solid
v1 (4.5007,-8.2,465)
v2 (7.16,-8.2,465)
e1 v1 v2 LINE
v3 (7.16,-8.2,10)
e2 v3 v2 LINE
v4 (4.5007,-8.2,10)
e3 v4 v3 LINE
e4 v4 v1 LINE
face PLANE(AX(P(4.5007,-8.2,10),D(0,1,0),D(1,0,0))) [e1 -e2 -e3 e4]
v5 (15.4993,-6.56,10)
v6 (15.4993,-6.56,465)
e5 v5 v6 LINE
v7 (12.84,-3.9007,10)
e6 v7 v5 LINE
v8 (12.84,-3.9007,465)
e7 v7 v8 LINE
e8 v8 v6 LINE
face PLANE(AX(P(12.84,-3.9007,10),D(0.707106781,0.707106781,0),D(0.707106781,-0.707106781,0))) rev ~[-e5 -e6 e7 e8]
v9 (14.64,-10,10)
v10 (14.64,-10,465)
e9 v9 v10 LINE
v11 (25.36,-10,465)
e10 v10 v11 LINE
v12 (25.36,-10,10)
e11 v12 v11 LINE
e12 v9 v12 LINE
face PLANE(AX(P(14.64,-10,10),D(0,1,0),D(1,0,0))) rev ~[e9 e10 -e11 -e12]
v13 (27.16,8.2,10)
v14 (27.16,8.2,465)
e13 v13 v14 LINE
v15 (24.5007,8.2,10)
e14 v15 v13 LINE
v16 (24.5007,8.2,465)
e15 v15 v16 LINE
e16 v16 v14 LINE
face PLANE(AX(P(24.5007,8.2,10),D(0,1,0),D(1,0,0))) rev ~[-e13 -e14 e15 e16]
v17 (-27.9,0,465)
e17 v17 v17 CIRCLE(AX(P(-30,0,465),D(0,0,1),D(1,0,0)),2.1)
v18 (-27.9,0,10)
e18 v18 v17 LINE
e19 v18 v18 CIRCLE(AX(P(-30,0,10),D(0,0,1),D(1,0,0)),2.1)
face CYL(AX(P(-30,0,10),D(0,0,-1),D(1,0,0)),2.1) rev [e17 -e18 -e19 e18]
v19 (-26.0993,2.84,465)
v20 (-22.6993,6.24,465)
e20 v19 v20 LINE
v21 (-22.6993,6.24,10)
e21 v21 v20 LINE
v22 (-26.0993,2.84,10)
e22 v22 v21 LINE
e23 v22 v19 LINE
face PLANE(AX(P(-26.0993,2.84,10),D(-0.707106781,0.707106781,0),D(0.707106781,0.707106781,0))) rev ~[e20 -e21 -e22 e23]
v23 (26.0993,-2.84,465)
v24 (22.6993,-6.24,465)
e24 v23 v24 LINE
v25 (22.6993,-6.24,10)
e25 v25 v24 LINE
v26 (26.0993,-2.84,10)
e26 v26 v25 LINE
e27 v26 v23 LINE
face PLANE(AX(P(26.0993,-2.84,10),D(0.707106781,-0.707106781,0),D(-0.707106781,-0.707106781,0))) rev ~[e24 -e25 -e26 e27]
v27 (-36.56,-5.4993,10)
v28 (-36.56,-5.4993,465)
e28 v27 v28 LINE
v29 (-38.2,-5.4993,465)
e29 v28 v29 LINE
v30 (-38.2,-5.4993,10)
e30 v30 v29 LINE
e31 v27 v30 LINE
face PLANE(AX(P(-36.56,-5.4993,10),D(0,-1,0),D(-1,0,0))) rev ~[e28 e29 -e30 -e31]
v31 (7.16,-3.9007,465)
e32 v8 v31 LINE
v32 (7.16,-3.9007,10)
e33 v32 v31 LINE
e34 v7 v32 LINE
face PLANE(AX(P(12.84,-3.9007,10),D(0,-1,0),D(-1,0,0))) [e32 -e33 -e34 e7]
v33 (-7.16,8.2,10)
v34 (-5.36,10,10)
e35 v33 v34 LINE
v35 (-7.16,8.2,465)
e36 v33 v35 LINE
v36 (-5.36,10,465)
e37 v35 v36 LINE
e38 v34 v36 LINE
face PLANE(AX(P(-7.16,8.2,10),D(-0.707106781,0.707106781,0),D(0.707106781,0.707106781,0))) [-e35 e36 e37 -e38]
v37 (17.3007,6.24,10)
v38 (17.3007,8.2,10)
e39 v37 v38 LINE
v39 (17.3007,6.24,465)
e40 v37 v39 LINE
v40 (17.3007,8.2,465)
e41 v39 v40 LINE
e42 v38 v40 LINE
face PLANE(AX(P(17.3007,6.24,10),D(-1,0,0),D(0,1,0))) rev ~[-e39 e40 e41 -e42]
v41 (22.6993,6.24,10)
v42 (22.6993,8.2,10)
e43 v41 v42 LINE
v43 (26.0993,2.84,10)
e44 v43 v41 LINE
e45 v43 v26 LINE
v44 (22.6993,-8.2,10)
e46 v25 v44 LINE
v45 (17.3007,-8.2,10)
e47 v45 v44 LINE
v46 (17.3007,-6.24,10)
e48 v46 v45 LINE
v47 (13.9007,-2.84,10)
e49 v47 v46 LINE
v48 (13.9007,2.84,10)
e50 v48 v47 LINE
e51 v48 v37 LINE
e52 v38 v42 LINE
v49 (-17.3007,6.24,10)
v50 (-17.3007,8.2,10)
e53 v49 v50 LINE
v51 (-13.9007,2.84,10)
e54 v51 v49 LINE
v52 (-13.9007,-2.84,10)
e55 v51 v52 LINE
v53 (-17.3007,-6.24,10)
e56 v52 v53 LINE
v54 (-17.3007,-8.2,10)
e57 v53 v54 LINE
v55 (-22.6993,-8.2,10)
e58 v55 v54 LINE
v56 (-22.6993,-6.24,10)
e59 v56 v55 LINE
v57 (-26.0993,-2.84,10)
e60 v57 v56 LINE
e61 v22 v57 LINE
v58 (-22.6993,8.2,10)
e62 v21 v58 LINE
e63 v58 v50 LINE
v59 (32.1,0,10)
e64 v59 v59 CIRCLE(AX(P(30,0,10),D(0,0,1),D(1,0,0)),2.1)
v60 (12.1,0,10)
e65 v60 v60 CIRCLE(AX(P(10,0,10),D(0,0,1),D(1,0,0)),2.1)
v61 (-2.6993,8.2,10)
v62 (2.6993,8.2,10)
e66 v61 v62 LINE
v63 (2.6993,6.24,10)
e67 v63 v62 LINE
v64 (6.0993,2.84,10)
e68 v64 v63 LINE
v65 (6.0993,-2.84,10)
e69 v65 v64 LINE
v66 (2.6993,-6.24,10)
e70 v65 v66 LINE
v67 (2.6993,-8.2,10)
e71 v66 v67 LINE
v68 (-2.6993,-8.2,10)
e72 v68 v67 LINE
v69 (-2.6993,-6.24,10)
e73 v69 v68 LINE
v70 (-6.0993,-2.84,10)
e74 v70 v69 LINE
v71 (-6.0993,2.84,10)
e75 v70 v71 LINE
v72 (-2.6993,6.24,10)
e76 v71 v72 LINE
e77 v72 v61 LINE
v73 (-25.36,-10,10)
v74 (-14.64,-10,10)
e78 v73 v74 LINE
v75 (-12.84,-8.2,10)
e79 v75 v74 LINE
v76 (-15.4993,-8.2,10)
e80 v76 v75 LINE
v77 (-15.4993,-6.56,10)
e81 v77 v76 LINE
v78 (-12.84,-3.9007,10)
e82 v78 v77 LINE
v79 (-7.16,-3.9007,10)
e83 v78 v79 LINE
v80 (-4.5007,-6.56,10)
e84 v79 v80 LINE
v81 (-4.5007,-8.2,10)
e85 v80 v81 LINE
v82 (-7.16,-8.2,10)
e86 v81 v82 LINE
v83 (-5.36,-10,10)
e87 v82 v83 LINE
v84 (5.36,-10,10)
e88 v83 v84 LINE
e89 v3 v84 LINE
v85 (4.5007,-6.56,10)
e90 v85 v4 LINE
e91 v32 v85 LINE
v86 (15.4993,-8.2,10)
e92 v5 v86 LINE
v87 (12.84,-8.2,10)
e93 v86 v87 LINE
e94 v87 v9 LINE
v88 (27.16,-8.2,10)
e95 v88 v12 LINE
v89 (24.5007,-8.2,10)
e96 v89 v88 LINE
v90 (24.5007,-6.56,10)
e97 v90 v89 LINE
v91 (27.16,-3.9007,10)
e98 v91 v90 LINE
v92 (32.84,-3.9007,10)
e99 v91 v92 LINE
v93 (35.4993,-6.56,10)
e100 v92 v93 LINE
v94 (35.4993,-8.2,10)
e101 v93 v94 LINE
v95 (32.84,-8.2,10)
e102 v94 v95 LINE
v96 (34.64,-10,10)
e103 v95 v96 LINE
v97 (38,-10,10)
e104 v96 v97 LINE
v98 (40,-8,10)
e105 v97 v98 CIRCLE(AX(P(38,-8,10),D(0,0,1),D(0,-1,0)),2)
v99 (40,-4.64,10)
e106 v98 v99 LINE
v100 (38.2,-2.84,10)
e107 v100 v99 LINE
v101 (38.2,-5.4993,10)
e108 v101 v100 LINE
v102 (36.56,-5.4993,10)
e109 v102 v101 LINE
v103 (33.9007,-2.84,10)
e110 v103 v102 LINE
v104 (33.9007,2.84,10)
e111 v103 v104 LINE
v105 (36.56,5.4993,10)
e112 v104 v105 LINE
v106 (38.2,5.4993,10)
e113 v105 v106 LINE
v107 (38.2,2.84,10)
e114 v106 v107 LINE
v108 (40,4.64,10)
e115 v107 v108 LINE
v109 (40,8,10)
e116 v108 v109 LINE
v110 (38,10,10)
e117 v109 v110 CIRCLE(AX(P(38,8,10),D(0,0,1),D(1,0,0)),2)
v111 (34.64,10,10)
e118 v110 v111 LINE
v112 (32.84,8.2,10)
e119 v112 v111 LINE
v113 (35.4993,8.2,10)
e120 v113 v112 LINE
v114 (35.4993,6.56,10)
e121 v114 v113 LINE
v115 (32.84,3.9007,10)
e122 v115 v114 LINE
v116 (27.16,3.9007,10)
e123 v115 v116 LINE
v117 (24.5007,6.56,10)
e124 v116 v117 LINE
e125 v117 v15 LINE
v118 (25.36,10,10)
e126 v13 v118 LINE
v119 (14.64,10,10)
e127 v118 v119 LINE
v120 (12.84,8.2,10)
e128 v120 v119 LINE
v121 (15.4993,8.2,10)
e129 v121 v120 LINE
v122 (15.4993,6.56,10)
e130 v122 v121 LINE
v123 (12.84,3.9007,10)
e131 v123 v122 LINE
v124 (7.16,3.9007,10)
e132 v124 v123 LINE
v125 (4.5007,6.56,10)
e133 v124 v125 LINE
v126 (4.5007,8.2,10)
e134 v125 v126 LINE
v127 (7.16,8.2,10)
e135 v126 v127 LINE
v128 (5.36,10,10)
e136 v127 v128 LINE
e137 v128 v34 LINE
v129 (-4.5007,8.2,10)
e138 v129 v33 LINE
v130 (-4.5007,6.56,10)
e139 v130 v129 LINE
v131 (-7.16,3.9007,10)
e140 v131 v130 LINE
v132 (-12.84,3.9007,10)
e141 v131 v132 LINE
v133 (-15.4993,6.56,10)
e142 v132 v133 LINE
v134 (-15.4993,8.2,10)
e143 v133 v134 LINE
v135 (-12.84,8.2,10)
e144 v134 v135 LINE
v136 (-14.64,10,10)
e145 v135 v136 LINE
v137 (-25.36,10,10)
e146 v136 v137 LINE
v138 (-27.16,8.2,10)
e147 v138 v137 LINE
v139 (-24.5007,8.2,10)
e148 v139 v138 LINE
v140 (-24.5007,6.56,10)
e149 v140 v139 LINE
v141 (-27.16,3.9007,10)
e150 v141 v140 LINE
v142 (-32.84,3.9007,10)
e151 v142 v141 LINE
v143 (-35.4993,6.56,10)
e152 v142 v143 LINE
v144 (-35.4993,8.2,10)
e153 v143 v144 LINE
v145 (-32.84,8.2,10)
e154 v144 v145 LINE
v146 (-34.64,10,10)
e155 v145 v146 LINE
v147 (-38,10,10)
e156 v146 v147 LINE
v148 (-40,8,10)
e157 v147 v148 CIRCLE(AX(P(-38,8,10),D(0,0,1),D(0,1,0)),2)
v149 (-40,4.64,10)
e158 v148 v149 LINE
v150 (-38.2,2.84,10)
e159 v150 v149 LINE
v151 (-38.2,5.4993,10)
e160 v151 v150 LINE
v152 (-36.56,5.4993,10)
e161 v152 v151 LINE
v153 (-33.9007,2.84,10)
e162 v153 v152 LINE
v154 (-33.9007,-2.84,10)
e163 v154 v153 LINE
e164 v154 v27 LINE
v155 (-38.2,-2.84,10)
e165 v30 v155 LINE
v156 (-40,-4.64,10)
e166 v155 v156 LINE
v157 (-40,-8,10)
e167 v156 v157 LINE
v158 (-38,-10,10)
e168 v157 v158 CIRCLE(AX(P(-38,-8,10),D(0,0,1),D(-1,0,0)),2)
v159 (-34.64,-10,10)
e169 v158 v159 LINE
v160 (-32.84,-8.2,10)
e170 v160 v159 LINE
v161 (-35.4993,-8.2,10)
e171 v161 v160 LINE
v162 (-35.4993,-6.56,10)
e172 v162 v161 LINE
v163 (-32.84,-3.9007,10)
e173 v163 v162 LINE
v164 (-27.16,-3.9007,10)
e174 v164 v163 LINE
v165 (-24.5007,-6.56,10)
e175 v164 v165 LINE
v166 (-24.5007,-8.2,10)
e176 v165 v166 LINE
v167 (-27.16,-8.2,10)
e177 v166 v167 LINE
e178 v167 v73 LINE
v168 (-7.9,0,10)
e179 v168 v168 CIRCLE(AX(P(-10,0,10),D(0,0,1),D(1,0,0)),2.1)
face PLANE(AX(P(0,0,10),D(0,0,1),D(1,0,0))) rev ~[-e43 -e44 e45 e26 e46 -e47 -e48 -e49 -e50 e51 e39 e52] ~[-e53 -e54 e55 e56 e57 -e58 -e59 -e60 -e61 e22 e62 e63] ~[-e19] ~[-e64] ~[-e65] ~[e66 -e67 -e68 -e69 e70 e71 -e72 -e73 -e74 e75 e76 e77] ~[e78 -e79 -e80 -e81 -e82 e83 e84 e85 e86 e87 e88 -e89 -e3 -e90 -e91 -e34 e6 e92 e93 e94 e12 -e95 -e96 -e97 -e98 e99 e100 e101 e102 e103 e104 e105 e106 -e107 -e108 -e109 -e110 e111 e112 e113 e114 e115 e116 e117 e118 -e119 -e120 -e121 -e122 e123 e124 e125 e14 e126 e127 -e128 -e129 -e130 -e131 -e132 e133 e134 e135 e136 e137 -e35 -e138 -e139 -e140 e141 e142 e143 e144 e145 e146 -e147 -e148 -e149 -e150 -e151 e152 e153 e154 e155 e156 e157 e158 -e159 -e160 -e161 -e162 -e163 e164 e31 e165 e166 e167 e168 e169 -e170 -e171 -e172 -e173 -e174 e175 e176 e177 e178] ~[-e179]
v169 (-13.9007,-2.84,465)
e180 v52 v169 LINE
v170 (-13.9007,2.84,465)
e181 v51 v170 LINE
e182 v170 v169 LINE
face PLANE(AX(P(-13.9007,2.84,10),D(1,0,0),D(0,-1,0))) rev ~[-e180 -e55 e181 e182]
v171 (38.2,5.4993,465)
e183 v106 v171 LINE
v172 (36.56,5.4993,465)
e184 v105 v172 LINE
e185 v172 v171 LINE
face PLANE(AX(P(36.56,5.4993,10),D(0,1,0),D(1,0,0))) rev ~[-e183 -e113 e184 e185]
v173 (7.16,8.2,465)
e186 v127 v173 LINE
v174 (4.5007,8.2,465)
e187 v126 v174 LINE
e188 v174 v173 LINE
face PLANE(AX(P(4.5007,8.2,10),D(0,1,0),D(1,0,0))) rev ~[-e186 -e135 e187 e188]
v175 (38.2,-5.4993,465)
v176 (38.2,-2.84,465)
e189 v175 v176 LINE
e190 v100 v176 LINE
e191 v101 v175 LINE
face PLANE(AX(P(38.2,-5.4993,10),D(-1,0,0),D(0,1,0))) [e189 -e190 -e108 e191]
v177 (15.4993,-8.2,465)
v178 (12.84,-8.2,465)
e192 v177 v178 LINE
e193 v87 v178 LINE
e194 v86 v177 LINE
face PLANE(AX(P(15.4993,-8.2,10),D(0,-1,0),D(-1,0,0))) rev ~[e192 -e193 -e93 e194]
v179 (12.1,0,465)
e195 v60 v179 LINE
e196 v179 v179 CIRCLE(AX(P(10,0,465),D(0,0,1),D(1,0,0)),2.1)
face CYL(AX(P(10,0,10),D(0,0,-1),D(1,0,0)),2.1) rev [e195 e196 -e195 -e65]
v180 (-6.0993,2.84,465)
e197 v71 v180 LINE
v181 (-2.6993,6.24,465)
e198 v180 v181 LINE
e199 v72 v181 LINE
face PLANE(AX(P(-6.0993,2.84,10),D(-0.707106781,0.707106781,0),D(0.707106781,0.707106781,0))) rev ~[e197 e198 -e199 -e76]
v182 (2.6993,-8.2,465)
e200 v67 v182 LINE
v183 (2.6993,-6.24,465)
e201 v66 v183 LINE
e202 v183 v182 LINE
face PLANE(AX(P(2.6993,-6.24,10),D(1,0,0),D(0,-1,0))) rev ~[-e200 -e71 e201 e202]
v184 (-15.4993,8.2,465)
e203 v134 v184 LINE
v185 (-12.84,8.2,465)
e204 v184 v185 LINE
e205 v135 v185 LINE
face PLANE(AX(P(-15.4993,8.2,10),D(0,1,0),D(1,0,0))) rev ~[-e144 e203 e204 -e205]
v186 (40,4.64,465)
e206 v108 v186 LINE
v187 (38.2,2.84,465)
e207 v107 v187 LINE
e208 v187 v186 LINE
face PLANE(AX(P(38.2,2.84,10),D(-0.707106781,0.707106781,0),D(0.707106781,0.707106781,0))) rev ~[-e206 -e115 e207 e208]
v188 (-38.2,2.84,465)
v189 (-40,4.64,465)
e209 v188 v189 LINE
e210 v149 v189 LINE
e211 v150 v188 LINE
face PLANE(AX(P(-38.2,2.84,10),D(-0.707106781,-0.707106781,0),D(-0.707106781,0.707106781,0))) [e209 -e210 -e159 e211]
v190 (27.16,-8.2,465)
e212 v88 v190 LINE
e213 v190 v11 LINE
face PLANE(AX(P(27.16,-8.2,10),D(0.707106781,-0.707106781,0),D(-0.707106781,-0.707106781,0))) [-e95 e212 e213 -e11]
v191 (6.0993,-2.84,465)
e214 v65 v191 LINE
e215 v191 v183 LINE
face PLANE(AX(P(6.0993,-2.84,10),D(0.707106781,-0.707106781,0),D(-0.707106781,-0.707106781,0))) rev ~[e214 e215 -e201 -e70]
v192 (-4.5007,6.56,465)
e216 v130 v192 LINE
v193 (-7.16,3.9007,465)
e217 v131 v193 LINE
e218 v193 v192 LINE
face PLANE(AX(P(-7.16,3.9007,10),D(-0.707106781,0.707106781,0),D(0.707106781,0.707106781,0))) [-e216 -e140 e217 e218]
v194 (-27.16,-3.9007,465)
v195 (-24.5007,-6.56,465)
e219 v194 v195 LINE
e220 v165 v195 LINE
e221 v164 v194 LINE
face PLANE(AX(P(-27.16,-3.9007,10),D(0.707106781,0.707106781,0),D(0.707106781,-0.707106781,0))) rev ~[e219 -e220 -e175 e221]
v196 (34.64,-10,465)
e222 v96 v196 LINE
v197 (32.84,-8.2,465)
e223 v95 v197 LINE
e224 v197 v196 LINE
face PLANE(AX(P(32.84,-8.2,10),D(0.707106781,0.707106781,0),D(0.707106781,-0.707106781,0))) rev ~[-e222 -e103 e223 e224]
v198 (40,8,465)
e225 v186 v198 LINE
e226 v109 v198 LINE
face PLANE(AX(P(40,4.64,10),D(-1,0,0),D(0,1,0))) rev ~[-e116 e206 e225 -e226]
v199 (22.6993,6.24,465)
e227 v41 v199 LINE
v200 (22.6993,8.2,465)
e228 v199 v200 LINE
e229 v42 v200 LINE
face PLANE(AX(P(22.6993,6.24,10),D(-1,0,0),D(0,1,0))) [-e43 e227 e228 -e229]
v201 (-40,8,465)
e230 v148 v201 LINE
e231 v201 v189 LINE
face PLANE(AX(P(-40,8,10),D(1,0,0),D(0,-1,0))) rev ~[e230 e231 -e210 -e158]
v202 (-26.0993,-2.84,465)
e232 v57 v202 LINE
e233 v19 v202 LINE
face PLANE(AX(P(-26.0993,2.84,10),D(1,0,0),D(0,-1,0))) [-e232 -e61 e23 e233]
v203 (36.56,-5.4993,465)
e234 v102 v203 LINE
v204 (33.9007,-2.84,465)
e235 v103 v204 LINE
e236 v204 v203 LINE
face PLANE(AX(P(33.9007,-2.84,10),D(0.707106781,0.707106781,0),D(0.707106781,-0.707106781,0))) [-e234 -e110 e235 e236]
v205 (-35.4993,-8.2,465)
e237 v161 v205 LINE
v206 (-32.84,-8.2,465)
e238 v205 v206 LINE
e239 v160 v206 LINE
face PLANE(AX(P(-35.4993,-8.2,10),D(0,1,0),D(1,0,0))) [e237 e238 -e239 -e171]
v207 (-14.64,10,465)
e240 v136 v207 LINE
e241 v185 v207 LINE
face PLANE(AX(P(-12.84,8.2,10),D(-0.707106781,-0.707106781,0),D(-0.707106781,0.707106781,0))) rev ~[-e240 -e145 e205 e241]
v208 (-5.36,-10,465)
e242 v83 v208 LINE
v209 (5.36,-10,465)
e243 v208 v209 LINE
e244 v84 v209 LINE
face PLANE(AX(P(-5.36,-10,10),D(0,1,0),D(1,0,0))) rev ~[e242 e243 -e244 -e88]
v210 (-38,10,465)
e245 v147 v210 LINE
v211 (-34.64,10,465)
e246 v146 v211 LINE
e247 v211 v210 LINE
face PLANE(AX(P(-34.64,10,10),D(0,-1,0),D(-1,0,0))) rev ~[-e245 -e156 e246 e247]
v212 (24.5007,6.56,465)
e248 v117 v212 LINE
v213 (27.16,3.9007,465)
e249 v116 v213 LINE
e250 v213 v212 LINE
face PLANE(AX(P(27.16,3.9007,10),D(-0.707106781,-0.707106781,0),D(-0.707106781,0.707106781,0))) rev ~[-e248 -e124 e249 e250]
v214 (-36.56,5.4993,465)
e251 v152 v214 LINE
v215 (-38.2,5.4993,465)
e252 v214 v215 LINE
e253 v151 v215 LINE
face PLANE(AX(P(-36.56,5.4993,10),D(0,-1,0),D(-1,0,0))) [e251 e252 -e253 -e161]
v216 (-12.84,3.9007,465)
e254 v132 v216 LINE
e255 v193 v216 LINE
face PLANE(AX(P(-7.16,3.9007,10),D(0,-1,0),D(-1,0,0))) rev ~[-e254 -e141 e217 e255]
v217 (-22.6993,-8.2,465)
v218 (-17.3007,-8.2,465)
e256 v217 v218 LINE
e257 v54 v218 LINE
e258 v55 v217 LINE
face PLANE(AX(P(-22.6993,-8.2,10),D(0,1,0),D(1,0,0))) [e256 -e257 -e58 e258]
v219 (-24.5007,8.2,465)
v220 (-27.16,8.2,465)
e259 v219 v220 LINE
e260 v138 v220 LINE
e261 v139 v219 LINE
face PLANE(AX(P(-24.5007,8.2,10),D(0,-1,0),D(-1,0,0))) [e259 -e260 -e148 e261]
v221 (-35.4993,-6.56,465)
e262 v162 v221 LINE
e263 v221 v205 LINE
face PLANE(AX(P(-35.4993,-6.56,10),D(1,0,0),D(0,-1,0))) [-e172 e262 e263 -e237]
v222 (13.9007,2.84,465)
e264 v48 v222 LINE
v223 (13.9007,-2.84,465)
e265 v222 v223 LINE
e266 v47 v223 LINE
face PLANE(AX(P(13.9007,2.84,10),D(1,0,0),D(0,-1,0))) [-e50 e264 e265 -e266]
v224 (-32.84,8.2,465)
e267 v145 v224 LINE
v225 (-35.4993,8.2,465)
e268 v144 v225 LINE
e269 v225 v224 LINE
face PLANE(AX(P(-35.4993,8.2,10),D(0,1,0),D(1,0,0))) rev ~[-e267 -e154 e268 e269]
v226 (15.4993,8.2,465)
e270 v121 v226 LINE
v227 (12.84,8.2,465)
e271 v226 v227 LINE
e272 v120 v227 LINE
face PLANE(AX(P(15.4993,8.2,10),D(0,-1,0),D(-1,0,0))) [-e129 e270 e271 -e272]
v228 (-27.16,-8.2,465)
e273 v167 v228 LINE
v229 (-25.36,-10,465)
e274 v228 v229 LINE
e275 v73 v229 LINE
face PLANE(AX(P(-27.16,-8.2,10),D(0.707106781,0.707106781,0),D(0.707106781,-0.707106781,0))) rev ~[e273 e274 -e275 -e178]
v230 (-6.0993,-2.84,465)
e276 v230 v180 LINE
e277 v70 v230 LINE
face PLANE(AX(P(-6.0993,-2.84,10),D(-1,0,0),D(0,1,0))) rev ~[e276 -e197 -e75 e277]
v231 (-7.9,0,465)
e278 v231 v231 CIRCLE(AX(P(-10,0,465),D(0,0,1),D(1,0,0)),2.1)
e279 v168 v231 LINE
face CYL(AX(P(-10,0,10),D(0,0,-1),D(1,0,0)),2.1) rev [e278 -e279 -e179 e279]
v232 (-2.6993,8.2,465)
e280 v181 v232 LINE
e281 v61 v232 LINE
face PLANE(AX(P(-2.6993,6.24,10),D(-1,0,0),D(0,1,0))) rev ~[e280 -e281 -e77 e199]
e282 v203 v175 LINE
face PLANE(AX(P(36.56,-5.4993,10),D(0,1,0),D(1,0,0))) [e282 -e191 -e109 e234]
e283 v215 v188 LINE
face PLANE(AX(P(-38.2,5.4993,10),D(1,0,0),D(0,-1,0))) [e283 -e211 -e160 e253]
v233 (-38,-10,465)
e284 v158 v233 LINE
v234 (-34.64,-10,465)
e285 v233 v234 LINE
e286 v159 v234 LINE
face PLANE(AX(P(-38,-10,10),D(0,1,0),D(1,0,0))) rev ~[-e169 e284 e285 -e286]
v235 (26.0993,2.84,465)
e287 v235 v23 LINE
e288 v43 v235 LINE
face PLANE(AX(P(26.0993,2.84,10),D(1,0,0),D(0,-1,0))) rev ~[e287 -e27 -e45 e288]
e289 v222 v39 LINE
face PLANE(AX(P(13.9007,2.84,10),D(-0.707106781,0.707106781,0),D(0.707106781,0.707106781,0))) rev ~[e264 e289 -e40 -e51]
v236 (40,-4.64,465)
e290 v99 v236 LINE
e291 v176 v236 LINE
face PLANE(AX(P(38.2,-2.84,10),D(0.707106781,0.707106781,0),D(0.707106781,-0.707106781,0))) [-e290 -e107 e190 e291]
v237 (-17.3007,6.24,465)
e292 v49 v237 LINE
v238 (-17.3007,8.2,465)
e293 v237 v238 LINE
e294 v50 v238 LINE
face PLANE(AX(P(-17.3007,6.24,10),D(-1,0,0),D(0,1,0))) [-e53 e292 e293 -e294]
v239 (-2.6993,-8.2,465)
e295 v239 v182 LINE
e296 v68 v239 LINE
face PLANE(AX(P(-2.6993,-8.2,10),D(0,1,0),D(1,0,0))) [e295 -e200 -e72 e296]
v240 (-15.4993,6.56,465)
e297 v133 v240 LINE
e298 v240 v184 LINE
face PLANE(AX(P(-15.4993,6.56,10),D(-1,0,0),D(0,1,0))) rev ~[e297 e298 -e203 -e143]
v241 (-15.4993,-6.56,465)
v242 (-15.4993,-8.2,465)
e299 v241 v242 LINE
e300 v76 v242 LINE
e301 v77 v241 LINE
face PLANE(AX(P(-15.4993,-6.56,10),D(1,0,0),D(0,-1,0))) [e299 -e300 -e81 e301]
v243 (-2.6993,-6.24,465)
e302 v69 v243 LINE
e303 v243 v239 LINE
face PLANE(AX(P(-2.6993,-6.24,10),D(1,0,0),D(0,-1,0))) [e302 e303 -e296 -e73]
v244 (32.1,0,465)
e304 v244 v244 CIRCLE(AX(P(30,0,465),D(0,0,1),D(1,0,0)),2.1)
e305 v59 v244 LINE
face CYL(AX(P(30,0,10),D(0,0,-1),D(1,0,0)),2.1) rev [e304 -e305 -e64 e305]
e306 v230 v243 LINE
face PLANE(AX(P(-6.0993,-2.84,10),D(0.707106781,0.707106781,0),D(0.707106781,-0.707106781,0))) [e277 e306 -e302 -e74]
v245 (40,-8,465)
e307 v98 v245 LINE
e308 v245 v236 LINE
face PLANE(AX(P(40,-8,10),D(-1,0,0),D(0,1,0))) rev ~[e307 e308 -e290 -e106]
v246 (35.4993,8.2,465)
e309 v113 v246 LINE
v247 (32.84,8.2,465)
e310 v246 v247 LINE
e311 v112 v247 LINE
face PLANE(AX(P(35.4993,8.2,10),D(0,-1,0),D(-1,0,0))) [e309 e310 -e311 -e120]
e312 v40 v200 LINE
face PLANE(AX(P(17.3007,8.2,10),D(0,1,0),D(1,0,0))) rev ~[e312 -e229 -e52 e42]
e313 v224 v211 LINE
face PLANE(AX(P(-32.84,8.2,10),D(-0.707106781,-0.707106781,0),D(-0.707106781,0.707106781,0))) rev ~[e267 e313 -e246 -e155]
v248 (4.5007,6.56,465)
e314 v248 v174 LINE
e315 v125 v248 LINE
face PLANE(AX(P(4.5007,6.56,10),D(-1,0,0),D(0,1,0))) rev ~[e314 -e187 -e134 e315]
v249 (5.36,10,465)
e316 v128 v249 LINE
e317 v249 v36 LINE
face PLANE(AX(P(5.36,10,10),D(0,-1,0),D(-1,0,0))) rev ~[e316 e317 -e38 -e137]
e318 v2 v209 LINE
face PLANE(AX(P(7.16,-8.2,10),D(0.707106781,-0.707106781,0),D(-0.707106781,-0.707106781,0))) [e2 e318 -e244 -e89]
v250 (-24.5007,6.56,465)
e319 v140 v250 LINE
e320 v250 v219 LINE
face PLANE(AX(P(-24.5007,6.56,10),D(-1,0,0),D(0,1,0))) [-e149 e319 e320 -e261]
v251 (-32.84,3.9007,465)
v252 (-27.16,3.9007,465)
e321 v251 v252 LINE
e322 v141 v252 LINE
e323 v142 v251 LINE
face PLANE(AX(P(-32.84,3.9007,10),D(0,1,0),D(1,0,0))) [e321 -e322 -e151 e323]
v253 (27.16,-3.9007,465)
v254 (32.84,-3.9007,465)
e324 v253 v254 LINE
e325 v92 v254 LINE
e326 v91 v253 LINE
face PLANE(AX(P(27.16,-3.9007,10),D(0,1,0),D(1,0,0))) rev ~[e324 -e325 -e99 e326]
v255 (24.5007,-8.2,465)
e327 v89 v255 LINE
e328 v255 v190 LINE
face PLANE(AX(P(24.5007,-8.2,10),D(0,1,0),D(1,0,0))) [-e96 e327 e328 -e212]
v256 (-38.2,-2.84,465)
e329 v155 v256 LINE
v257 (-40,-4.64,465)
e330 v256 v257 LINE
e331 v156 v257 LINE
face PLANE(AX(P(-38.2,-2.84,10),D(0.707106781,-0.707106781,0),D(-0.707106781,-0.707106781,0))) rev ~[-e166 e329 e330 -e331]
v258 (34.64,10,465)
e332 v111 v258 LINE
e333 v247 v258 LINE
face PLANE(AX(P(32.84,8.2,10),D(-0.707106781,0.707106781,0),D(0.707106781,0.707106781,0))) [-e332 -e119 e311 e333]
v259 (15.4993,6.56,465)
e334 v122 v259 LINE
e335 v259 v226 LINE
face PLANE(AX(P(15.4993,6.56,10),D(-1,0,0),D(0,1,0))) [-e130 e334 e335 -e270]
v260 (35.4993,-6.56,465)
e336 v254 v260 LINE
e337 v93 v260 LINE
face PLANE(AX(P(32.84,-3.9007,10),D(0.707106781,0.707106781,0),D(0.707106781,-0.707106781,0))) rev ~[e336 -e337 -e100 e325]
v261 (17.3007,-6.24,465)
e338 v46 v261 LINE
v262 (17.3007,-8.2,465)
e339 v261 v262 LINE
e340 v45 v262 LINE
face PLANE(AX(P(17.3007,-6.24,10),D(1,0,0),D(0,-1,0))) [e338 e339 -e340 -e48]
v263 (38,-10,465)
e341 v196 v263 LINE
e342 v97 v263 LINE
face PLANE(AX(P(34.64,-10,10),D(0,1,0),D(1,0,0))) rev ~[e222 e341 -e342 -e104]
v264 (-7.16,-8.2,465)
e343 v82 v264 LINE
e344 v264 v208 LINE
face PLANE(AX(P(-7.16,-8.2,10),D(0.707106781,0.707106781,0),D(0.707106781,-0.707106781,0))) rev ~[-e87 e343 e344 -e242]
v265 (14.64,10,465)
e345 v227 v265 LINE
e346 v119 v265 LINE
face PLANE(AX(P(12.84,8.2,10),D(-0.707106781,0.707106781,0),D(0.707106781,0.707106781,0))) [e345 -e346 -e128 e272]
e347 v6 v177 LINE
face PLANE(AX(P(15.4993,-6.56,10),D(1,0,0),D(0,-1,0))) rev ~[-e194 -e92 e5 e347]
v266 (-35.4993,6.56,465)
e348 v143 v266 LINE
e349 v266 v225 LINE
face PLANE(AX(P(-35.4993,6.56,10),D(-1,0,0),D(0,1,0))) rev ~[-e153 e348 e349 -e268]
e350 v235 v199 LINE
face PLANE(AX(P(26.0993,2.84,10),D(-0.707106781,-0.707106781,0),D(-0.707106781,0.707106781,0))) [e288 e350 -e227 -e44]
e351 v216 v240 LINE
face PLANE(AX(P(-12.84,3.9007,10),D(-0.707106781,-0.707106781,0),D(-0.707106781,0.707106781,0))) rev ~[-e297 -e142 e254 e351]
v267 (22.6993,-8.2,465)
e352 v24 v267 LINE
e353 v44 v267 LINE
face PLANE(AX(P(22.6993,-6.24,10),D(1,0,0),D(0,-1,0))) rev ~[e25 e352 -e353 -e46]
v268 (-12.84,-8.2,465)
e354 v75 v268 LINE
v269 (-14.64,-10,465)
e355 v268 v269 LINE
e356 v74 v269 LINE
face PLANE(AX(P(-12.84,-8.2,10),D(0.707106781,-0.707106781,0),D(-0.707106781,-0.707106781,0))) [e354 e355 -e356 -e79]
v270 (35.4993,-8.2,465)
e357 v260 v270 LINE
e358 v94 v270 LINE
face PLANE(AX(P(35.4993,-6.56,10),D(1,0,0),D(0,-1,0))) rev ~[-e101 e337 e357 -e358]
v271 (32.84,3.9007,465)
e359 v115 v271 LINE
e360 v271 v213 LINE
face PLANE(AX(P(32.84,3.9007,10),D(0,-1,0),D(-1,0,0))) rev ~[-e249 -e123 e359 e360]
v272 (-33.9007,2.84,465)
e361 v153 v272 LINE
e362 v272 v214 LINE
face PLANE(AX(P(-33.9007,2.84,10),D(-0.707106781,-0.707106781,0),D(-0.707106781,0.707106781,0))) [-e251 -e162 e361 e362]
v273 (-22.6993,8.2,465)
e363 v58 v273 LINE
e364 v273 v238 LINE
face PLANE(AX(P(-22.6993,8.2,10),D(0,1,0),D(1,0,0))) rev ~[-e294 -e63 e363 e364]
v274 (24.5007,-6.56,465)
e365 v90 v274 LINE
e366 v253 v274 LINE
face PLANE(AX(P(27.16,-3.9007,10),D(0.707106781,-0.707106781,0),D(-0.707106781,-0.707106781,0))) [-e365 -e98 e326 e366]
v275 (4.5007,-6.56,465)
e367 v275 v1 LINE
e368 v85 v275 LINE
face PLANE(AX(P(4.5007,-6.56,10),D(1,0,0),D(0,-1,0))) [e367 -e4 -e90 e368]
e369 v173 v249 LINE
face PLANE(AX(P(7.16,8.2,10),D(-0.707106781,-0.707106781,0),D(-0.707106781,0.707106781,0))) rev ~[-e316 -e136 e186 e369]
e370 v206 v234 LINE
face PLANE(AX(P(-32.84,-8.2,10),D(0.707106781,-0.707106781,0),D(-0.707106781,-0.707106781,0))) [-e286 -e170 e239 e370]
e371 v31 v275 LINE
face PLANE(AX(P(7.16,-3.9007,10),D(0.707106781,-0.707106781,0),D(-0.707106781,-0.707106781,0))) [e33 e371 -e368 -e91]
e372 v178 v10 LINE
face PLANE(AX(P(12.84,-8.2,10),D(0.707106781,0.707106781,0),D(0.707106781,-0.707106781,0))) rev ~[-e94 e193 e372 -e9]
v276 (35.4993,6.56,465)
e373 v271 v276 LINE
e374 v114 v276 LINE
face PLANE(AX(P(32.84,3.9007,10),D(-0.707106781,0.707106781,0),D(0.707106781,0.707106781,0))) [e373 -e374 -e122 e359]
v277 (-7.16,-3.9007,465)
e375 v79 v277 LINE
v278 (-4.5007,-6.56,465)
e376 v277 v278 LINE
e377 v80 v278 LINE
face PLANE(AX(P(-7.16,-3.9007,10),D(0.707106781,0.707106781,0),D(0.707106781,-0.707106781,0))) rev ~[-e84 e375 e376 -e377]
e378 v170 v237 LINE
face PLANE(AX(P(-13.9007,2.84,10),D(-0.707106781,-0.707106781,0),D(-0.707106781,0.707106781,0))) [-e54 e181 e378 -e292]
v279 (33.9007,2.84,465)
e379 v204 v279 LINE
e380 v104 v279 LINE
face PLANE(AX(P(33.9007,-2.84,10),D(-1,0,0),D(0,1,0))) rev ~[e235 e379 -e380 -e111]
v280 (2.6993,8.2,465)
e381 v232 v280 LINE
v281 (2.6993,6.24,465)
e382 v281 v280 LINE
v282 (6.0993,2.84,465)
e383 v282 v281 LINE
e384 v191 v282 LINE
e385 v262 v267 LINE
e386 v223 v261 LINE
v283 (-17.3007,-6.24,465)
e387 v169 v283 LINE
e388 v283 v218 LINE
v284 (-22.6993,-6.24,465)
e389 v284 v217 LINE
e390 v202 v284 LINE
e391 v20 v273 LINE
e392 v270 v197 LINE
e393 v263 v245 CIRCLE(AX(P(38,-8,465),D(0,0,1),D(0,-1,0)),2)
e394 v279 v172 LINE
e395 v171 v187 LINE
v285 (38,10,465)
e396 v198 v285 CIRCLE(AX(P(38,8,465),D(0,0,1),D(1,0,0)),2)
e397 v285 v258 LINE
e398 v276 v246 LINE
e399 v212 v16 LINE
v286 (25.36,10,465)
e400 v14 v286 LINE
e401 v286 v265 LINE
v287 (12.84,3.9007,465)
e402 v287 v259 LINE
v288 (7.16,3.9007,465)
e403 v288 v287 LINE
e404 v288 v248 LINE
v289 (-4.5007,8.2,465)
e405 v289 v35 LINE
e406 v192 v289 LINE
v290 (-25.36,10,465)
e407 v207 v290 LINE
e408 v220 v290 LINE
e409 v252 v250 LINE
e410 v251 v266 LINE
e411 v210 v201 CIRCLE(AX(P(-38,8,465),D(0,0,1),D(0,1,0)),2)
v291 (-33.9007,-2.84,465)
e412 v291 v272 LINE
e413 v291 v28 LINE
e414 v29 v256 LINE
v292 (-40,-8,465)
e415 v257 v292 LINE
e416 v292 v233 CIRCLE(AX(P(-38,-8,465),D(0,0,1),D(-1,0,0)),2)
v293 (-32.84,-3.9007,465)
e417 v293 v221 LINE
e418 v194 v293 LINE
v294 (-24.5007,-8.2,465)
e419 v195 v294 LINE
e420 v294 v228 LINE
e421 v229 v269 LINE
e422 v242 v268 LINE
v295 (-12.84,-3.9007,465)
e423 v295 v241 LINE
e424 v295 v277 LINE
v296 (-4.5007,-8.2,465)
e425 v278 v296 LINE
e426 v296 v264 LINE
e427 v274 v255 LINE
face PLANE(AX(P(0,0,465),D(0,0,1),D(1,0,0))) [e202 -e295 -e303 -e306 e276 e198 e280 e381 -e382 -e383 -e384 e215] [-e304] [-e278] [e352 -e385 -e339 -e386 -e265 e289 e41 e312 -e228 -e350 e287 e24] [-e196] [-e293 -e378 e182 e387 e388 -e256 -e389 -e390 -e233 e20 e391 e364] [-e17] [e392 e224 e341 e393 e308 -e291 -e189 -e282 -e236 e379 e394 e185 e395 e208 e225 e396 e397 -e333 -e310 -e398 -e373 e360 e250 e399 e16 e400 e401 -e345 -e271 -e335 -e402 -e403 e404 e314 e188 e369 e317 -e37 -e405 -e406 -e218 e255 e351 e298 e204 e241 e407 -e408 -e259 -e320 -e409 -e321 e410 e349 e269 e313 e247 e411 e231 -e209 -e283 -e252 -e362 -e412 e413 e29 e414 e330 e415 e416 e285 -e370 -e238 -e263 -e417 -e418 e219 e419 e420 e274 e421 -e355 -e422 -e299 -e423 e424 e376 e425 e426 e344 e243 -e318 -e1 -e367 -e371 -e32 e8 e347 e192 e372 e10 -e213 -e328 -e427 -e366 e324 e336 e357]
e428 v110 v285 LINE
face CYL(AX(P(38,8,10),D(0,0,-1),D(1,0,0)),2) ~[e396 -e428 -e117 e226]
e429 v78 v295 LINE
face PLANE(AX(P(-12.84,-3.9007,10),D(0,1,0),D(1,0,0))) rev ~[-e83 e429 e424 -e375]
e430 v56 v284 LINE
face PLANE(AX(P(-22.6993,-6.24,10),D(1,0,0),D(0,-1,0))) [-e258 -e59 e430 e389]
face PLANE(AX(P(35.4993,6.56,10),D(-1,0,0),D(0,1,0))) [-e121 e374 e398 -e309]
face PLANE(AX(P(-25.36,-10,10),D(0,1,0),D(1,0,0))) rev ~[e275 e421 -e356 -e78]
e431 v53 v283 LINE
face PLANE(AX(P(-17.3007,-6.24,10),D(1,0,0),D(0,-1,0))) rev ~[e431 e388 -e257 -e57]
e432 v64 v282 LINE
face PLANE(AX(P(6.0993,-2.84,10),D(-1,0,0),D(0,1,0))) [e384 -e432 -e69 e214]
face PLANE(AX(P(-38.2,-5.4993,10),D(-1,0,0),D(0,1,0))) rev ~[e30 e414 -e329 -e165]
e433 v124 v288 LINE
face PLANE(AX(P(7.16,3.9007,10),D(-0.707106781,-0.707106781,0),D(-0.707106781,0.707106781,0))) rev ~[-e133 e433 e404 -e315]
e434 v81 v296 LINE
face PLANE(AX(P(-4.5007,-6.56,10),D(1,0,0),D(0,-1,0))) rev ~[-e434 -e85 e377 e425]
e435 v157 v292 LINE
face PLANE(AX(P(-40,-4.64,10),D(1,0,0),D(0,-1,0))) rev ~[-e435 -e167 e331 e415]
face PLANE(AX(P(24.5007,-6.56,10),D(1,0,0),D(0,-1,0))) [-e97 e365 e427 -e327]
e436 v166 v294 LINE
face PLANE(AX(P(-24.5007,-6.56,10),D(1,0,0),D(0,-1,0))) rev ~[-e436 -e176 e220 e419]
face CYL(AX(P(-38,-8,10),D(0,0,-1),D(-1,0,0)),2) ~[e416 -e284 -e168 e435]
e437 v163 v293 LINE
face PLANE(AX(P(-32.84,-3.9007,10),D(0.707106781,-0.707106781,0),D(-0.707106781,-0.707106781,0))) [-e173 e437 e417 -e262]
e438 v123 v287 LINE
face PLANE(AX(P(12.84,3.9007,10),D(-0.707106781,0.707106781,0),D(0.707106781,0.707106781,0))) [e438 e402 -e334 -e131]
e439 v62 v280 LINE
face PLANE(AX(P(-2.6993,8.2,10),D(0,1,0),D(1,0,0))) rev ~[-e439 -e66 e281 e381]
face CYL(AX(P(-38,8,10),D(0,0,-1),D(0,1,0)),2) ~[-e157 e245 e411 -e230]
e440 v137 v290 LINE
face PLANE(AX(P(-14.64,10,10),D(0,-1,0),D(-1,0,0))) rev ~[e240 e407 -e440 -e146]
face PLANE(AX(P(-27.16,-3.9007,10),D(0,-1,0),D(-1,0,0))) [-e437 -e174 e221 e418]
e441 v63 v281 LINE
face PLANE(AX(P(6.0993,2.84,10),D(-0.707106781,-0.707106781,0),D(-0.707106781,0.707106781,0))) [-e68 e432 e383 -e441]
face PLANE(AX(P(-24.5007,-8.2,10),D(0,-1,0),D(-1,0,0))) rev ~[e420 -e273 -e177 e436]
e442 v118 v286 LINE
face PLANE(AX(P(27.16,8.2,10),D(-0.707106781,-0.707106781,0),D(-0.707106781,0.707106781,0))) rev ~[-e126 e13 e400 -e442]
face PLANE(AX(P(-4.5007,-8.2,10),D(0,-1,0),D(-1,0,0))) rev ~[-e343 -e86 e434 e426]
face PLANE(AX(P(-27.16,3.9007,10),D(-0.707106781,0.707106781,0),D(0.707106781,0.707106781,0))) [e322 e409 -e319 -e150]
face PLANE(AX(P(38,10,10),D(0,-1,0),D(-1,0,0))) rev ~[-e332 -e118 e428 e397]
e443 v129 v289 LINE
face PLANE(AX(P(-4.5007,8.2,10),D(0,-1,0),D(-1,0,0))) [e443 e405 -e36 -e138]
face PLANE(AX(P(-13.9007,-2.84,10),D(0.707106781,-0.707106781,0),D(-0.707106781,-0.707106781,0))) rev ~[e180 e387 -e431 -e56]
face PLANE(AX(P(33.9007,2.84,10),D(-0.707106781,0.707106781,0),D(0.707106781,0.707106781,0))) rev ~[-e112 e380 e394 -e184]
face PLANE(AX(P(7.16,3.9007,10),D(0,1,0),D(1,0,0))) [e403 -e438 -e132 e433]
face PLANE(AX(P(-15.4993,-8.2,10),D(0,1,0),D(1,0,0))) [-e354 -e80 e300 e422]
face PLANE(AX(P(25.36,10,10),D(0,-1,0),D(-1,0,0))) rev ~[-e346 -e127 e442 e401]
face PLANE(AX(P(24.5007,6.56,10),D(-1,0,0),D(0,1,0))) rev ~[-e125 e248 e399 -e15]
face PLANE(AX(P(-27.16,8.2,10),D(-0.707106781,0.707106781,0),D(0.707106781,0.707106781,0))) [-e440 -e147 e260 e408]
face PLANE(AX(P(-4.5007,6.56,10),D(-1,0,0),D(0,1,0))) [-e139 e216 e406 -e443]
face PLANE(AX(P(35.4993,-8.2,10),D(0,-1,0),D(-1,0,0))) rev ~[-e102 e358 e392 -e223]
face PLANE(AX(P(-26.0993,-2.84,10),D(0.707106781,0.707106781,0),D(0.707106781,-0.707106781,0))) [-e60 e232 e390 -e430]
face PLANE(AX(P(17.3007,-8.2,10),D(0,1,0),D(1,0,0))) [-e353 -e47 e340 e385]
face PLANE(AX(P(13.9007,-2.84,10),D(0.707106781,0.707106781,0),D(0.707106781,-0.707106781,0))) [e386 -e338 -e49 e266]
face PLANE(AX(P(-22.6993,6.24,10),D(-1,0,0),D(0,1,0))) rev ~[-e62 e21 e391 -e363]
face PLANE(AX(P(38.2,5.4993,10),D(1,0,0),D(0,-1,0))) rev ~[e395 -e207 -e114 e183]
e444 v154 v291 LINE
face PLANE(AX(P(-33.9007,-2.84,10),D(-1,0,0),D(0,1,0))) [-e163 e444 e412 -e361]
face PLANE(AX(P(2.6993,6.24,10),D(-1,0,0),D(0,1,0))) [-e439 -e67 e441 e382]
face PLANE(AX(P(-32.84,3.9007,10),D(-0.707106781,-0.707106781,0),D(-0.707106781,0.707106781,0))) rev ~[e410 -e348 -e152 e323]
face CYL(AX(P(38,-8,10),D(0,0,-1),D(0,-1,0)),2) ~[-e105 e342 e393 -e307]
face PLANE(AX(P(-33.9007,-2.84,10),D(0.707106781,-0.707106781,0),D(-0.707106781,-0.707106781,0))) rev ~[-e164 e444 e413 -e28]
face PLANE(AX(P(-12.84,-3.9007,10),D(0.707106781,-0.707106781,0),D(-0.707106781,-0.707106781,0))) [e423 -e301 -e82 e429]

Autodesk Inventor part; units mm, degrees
ref_plane "Start Plane" through (0, 0, 10) normal (0, 0, 1) x (1, 0, 0)
ref_plane "End Plane" through (0, 0, 465) normal (0, 0, 1) x (1, 0, 0)
sketch "Sketch" plane through (0, 0, 0) normal (0, 0, 1) x (1, 0, 0)
  line L0 (0, 0) -> (0, 10) construction
  line L1 (0, 10) -> (-10, 10) construction
  line L2 (-10, 10) -> (-10, 0) construction
  line L3 (-10, 10) -> (-20, 10) construction
  line L4 (-20, 10) -> (-20, 0) construction
  circle A0 centre (-10, 0) radius 2.1
  line L5 (-13.9007, -3.9007) -> (-6.0993, -3.9007) construction
  line L6 (-6.0993, -3.9007) -> (-6.0993, 3.9007) construction
  line L7 (-6.0993, 3.9007) -> (-13.9007, 3.9007) construction
  line L8 (-13.9007, 3.9007) -> (-13.9007, -3.9007) construction
  line L9 (-13.9007, -3.9007) -> (-6.0993, 3.9007) construction
  line L10 (-6.0993, -3.9007) -> (-13.9007, 3.9007) construction
  line L11 (-13.9007, -2.84) -> (-12.84, -3.9007) construction
  line L12 (-13.9007, -2.84) -> (-12.4007, -2.84) construction
  line L13 (0, 0) -> (-10, 0) construction
  line L14 (-12.84, -3.9007) -> (-15.4993, -6.56)
  line L15 (-15.4993, -6.56) -> (-15.4993, -8.2)
  line L16 (-15.4993, -8.2) -> (-12.84, -8.2)
  line L17 (-12.84, -8.2) -> (-14.64, -10)
  line L18 (-7.16, -3.9007) -> (-4.5007, -6.56)
  line L19 (-4.5007, -6.56) -> (-4.5007, -8.2)
  line L20 (-4.5007, -8.2) -> (-7.16, -8.2)
  line L21 (-7.16, -8.2) -> (-5.36, -10)
  line L22 (-12.84, 3.9007) -> (-15.4993, 6.56)
  line L23 (-15.4993, 6.56) -> (-15.4993, 8.2)
  line L24 (-15.4993, 8.2) -> (-12.84, 8.2)
  line L25 (-12.84, 8.2) -> (-14.64, 10)
  line L26 (-7.16, 3.9007) -> (-4.5007, 6.56)
  line L27 (-4.5007, 6.56) -> (-4.5007, 8.2)
  line L28 (-4.5007, 8.2) -> (-7.16, 8.2)
  line L29 (-7.16, 8.2) -> (-5.36, 10)
  line L30 (-20, -8.2) -> (-15.4993, -8.2) construction
  line L31 (-13.9007, -2.84) -> (-17.3007, -6.24)
  line L32 (-17.3007, -6.24) -> (-17.3007, -8.2)
  line L33 (-13.9007, 2.84) -> (-17.3007, 6.24)
  line L34 (-17.3007, 6.24) -> (-17.3007, 8.2)
  line L35 (-6.0993, -2.84) -> (-2.6993, -6.24)
  line L36 (-2.6993, -6.24) -> (-2.6993, -8.2)
  line L37 (-2.6993, 6.24) -> (-2.6993, 8.2)
  line L38 (-6.0993, 2.84) -> (-2.6993, 6.24)
  line L39 (-12.84, -3.9007) -> (-7.16, -3.9007)
  line L40 (-6.0993, -2.84) -> (-6.0993, 2.84)
  line L41 (-7.16, 3.9007) -> (-12.84, 3.9007)
  line L42 (-13.9007, 2.84) -> (-13.9007, -2.84)
  line L43 (-30, 10) -> (-30, 0) construction
  circle A1 centre (-30, 0) radius 2.1
  line L44 (-26.0993, -3.9007) -> (-33.9007, -3.9007) construction
  line L45 (-33.9007, -3.9007) -> (-33.9007, 3.9007) construction
  line L46 (-33.9007, 3.9007) -> (-26.0993, 3.9007) construction
  line L47 (-26.0993, 3.9007) -> (-26.0993, -3.9007) construction
  line L48 (-26.0993, -3.9007) -> (-33.9007, 3.9007) construction
  line L49 (-33.9007, -3.9007) -> (-26.0993, 3.9007) construction
  line L50 (-26.0993, -2.84) -> (-27.16, -3.9007) construction
  line L51 (-26.0993, -2.84) -> (-27.5993, -2.84) construction
  line L52 (-27.16, -3.9007) -> (-24.5007, -6.56)
  line L53 (-24.5007, -6.56) -> (-24.5007, -8.2)
  line L54 (-24.5007, -8.2) -> (-27.16, -8.2)
  line L55 (-27.16, -8.2) -> (-25.36, -10)
  line L56 (-32.84, -3.9007) -> (-35.4993, -6.56)
  line L57 (-35.4993, -6.56) -> (-35.4993, -8.2)
  line L58 (-35.4993, -8.2) -> (-32.84, -8.2)
  line L59 (-32.84, -8.2) -> (-34.64, -10)
  line L60 (-27.16, 3.9007) -> (-24.5007, 6.56)
  line L61 (-24.5007, 6.56) -> (-24.5007, 8.2)
  line L62 (-24.5007, 8.2) -> (-27.16, 8.2)
  line L63 (-27.16, 8.2) -> (-25.36, 10)
  line L64 (-32.84, 8.2) -> (-34.64, 10)
  line L65 (-35.4993, 8.2) -> (-32.84, 8.2)
  line L66 (-35.4993, 6.56) -> (-35.4993, 8.2)
  line L67 (-32.84, 3.9007) -> (-35.4993, 6.56)
  line L68 (-26.0993, -2.84) -> (-22.6993, -6.24)
  line L69 (-22.6993, -6.24) -> (-22.6993, -8.2)
  line L70 (-22.6993, 6.24) -> (-22.6993, 8.2)
  line L71 (-26.0993, 2.84) -> (-22.6993, 6.24)
  line L72 (-27.16, -3.9007) -> (-32.84, -3.9007)
  line L73 (-33.9007, -2.84) -> (-33.9007, 2.84)
  line L74 (-32.84, 3.9007) -> (-27.16, 3.9007)
  line L75 (-26.0993, 2.84) -> (-26.0993, -2.84)
  line L76 (-38.2, -2.84) -> (-40, -4.64)
  line L77 (-36.56, -5.4993) -> (-38.2, -5.4993)
  line L78 (-38.2, -5.4993) -> (-38.2, -2.84)
  line L79 (-33.9007, -2.84) -> (-36.56, -5.4993)
  line L80 (-33.9007, 2.84) -> (-36.56, 5.4993)
  line L81 (-36.56, 5.4993) -> (-38.2, 5.4993)
  line L82 (-38.2, 2.84) -> (-40, 4.64)
  line L83 (-38.2, 5.4993) -> (-38.2, 2.84)
  line L84 (10, 10) -> (10, 0) construction
  line L85 (10, 10) -> (20, 10) construction
  line L86 (20, 10) -> (20, 0) construction
  circle A2 centre (10, 0) radius 2.1
  line L87 (13.9007, -3.9007) -> (6.0993, -3.9007) construction
  line L88 (6.0993, -3.9007) -> (6.0993, 3.9007) construction
  line L89 (6.0993, 3.9007) -> (13.9007, 3.9007) construction
  line L90 (13.9007, 3.9007) -> (13.9007, -3.9007) construction
  line L91 (13.9007, -3.9007) -> (6.0993, 3.9007) construction
  line L92 (6.0993, -3.9007) -> (13.9007, 3.9007) construction
  line L93 (13.9007, -2.84) -> (12.84, -3.9007) construction
  line L94 (13.9007, -2.84) -> (12.4007, -2.84) construction
  line L95 (12.84, -3.9007) -> (15.4993, -6.56)
  line L96 (15.4993, -6.56) -> (15.4993, -8.2)
  line L97 (15.4993, -8.2) -> (12.84, -8.2)
  line L98 (12.84, -8.2) -> (14.64, -10)
  line L99 (7.16, -3.9007) -> (4.5007, -6.56)
  line L100 (4.5007, -6.56) -> (4.5007, -8.2)
  line L101 (4.5007, -8.2) -> (7.16, -8.2)
  line L102 (7.16, -8.2) -> (5.36, -10)
  line L103 (12.84, 3.9007) -> (15.4993, 6.56)
  line L104 (15.4993, 6.56) -> (15.4993, 8.2)
  line L105 (15.4993, 8.2) -> (12.84, 8.2)
  line L106 (12.84, 8.2) -> (14.64, 10)
  line L107 (7.16, 8.2) -> (5.36, 10)
  line L108 (4.5007, 8.2) -> (7.16, 8.2)
  line L109 (4.5007, 6.56) -> (4.5007, 8.2)
  line L110 (7.16, 3.9007) -> (4.5007, 6.56)
  line L111 (20, -8.2) -> (15.4993, -8.2) construction
  line L112 (13.9007, -2.84) -> (17.3007, -6.24)
  line L113 (17.3007, -6.24) -> (17.3007, -8.2)
  line L114 (17.3007, 6.24) -> (17.3007, 8.2)
  line L115 (13.9007, 2.84) -> (17.3007, 6.24)
  line L116 (2.6993, 6.24) -> (2.6993, 8.2)
  line L117 (6.0993, 2.84) -> (2.6993, 6.24)
  line L118 (6.0993, -2.84) -> (2.6993, -6.24)
  line L119 (2.6993, -6.24) -> (2.6993, -8.2)
  line L120 (12.84, -3.9007) -> (7.16, -3.9007)
  line L121 (6.0993, -2.84) -> (6.0993, 2.84)
  line L122 (7.16, 3.9007) -> (12.84, 3.9007)
  line L123 (13.9007, 2.84) -> (13.9007, -2.84)
  line L124 (32.84, 3.9007) -> (35.4993, 6.56)
  line L125 (30, 10) -> (30, 0) construction
  line L126 (35.4993, 6.56) -> (35.4993, 8.2)
  line L127 (35.4993, 8.2) -> (32.84, 8.2)
  line L128 (32.84, 8.2) -> (34.64, 10)
  line L129 (32.84, -8.2) -> (34.64, -10)
  line L130 (35.4993, -6.56) -> (35.4993, -8.2)
  line L131 (35.4993, -8.2) -> (32.84, -8.2)
  line L132 (32.84, -3.9007) -> (35.4993, -6.56)
  line L133 (26.0993, 2.84) -> (26.0993, -2.84)
  line L134 (32.84, 3.9007) -> (27.16, 3.9007)
  line L135 (33.9007, -2.84) -> (33.9007, 2.84)
  line L136 (27.16, -3.9007) -> (32.84, -3.9007)
  line L137 (27.16, 3.9007) -> (24.5007, 6.56)
  line L138 (33.9007, 3.9007) -> (26.0993, 3.9007) construction
  circle A3 centre (30, 0) radius 2.1
  line L139 (26.0993, 3.9007) -> (26.0993, -3.9007) construction
  line L140 (26.0993, -3.9007) -> (33.9007, -3.9007) construction
  line L141 (26.0993, -3.9007) -> (33.9007, 3.9007) construction
  line L142 (33.9007, -3.9007) -> (26.0993, 3.9007) construction
  line L143 (33.9007, -3.9007) -> (33.9007, 3.9007) construction
  line L144 (26.0993, -2.84) -> (27.5993, -2.84) construction
  line L145 (27.16, -8.2) -> (25.36, -10)
  line L146 (26.0993, -2.84) -> (27.16, -3.9007) construction
  line L147 (27.16, -3.9007) -> (24.5007, -6.56)
  line L148 (24.5007, -8.2) -> (27.16, -8.2)
  line L149 (24.5007, -6.56) -> (24.5007, -8.2)
  line L150 (26.0993, -2.84) -> (22.6993, -6.24)
  line L151 (22.6993, -6.24) -> (22.6993, -8.2)
  line L152 (26.0993, 2.84) -> (22.6993, 6.24)
  line L153 (24.5007, 8.2) -> (27.16, 8.2)
  line L154 (24.5007, 6.56) -> (24.5007, 8.2)
  line L155 (22.6993, 6.24) -> (22.6993, 8.2)
  line L156 (27.16, 8.2) -> (25.36, 10)
  line L157 (33.9007, -2.84) -> (36.56, -5.4993)
  line L158 (36.56, -5.4993) -> (38.2, -5.4993)
  line L159 (38.2, -2.84) -> (40, -4.64)
  line L160 (38.2, -5.4993) -> (38.2, -2.84)
  line L161 (33.9007, 2.84) -> (36.56, 5.4993)
  line L162 (36.56, 5.4993) -> (38.2, 5.4993)
  line L163 (38.2, 5.4993) -> (38.2, 2.84)
  line L164 (38.2, 2.84) -> (40, 4.64)
  line L165 (-25.36, -10) -> (-14.64, -10)
  line L166 (-5.36, -10) -> (5.36, -10)
  line L167 (14.64, -10) -> (25.36, -10)
  line L168 (34.64, -10) -> (38, -10)
  line L169 (40, -8) -> (40, -4.64)
  line L170 (40, 4.64) -> (40, 8)
  line L171 (38, 10) -> (34.64, 10)
  line L172 (25.36, 10) -> (14.64, 10)
  line L173 (5.36, 10) -> (-5.36, 10)
  line L174 (-14.64, 10) -> (-25.36, 10)
  line L175 (-34.64, 10) -> (-38, 10)
  line L176 (-40, 8) -> (-40, 4.64)
  line L177 (-40, -4.64) -> (-40, -8)
  line L178 (-38, -10) -> (-34.64, -10)
  line L179 (-22.6993, 8.2) -> (-17.3007, 8.2)
  line L180 (-22.6993, -8.2) -> (-17.3007, -8.2)
  line L181 (-2.6993, 8.2) -> (2.6993, 8.2)
  line L182 (-2.6993, -8.2) -> (2.6993, -8.2)
  line L183 (17.3007, 8.2) -> (22.6993, 8.2)
  line L184 (17.3007, -8.2) -> (22.6993, -8.2)
  arc A4 (-40, -8) -> (-38, -10) centre (-38, -8) ccw
  arc A5 (-38, 10) -> (-40, 8) centre (-38, 8) ccw
  arc A6 (38, -10) -> (40, -8) centre (38, -8) ccw
  arc A7 (40, 8) -> (38, 10) centre (38, 8) ccw
  dimension "d0" = 10
  dimension "d1" = 10
  dimension "d2" = 10
  dimension "d3" = 4.2
  dimension "d4" = 1.5
  dimension "d5" = 45
  dimension "d6" = 1.64
  dimension "d7" = 1.8
  dimension "d8" = 10
  dimension "d9" = 2.84
  dimension "d11" = 135
  dimension "d12" = 1.96
  dimension "d13" = 5.68
  dimension "d14" = 2
extrude "Body" add sketch "Sketch" along normal up to surface (455 mm away) from surface at 10
sketch "Sketch10" plane through (0, 0, 0) normal (0, 0, 1) x (1, 0, 0)
  line L0 (0, 0) -> (10, 0)
ref_plane "Work Plane7" through (0, 0, 0) normal (0, -1, 0) x (1, 0, 0)
sketch "Sketch11" plane through (0, 0, 0) normal (0, -1, 0) x (1, 0, 0)
  line L0 (-2, 10) -> (12, 10)
  line L1 (-2, 465) -> (12, 465)
  dimension "d22" = 455
ref_plane "Work Plane8" through (40, 8.2, 465) normal (0, 0, 1) x (1, 0, 0)
split "Split1" plane through (40, 8.2, 465) removes the side toward (0, 0, 1)
ref_plane "Work Plane9" through (40, 4.5951, 10) normal (0, 0, -1) x (-1, 0, 0)
split "Split2" plane through (40, 4.5951, 10) removes the side toward (0, 0, -1)
equation "\"d18\" = Length + G_OFFSET_END"
equation "\"G_L\" = d22"
equation "\"Length\" = 475"
equation "\"G_OFFSET_END\" = -10"
properties part number "vslot 20 x 80" material "Aluminum 6061"
